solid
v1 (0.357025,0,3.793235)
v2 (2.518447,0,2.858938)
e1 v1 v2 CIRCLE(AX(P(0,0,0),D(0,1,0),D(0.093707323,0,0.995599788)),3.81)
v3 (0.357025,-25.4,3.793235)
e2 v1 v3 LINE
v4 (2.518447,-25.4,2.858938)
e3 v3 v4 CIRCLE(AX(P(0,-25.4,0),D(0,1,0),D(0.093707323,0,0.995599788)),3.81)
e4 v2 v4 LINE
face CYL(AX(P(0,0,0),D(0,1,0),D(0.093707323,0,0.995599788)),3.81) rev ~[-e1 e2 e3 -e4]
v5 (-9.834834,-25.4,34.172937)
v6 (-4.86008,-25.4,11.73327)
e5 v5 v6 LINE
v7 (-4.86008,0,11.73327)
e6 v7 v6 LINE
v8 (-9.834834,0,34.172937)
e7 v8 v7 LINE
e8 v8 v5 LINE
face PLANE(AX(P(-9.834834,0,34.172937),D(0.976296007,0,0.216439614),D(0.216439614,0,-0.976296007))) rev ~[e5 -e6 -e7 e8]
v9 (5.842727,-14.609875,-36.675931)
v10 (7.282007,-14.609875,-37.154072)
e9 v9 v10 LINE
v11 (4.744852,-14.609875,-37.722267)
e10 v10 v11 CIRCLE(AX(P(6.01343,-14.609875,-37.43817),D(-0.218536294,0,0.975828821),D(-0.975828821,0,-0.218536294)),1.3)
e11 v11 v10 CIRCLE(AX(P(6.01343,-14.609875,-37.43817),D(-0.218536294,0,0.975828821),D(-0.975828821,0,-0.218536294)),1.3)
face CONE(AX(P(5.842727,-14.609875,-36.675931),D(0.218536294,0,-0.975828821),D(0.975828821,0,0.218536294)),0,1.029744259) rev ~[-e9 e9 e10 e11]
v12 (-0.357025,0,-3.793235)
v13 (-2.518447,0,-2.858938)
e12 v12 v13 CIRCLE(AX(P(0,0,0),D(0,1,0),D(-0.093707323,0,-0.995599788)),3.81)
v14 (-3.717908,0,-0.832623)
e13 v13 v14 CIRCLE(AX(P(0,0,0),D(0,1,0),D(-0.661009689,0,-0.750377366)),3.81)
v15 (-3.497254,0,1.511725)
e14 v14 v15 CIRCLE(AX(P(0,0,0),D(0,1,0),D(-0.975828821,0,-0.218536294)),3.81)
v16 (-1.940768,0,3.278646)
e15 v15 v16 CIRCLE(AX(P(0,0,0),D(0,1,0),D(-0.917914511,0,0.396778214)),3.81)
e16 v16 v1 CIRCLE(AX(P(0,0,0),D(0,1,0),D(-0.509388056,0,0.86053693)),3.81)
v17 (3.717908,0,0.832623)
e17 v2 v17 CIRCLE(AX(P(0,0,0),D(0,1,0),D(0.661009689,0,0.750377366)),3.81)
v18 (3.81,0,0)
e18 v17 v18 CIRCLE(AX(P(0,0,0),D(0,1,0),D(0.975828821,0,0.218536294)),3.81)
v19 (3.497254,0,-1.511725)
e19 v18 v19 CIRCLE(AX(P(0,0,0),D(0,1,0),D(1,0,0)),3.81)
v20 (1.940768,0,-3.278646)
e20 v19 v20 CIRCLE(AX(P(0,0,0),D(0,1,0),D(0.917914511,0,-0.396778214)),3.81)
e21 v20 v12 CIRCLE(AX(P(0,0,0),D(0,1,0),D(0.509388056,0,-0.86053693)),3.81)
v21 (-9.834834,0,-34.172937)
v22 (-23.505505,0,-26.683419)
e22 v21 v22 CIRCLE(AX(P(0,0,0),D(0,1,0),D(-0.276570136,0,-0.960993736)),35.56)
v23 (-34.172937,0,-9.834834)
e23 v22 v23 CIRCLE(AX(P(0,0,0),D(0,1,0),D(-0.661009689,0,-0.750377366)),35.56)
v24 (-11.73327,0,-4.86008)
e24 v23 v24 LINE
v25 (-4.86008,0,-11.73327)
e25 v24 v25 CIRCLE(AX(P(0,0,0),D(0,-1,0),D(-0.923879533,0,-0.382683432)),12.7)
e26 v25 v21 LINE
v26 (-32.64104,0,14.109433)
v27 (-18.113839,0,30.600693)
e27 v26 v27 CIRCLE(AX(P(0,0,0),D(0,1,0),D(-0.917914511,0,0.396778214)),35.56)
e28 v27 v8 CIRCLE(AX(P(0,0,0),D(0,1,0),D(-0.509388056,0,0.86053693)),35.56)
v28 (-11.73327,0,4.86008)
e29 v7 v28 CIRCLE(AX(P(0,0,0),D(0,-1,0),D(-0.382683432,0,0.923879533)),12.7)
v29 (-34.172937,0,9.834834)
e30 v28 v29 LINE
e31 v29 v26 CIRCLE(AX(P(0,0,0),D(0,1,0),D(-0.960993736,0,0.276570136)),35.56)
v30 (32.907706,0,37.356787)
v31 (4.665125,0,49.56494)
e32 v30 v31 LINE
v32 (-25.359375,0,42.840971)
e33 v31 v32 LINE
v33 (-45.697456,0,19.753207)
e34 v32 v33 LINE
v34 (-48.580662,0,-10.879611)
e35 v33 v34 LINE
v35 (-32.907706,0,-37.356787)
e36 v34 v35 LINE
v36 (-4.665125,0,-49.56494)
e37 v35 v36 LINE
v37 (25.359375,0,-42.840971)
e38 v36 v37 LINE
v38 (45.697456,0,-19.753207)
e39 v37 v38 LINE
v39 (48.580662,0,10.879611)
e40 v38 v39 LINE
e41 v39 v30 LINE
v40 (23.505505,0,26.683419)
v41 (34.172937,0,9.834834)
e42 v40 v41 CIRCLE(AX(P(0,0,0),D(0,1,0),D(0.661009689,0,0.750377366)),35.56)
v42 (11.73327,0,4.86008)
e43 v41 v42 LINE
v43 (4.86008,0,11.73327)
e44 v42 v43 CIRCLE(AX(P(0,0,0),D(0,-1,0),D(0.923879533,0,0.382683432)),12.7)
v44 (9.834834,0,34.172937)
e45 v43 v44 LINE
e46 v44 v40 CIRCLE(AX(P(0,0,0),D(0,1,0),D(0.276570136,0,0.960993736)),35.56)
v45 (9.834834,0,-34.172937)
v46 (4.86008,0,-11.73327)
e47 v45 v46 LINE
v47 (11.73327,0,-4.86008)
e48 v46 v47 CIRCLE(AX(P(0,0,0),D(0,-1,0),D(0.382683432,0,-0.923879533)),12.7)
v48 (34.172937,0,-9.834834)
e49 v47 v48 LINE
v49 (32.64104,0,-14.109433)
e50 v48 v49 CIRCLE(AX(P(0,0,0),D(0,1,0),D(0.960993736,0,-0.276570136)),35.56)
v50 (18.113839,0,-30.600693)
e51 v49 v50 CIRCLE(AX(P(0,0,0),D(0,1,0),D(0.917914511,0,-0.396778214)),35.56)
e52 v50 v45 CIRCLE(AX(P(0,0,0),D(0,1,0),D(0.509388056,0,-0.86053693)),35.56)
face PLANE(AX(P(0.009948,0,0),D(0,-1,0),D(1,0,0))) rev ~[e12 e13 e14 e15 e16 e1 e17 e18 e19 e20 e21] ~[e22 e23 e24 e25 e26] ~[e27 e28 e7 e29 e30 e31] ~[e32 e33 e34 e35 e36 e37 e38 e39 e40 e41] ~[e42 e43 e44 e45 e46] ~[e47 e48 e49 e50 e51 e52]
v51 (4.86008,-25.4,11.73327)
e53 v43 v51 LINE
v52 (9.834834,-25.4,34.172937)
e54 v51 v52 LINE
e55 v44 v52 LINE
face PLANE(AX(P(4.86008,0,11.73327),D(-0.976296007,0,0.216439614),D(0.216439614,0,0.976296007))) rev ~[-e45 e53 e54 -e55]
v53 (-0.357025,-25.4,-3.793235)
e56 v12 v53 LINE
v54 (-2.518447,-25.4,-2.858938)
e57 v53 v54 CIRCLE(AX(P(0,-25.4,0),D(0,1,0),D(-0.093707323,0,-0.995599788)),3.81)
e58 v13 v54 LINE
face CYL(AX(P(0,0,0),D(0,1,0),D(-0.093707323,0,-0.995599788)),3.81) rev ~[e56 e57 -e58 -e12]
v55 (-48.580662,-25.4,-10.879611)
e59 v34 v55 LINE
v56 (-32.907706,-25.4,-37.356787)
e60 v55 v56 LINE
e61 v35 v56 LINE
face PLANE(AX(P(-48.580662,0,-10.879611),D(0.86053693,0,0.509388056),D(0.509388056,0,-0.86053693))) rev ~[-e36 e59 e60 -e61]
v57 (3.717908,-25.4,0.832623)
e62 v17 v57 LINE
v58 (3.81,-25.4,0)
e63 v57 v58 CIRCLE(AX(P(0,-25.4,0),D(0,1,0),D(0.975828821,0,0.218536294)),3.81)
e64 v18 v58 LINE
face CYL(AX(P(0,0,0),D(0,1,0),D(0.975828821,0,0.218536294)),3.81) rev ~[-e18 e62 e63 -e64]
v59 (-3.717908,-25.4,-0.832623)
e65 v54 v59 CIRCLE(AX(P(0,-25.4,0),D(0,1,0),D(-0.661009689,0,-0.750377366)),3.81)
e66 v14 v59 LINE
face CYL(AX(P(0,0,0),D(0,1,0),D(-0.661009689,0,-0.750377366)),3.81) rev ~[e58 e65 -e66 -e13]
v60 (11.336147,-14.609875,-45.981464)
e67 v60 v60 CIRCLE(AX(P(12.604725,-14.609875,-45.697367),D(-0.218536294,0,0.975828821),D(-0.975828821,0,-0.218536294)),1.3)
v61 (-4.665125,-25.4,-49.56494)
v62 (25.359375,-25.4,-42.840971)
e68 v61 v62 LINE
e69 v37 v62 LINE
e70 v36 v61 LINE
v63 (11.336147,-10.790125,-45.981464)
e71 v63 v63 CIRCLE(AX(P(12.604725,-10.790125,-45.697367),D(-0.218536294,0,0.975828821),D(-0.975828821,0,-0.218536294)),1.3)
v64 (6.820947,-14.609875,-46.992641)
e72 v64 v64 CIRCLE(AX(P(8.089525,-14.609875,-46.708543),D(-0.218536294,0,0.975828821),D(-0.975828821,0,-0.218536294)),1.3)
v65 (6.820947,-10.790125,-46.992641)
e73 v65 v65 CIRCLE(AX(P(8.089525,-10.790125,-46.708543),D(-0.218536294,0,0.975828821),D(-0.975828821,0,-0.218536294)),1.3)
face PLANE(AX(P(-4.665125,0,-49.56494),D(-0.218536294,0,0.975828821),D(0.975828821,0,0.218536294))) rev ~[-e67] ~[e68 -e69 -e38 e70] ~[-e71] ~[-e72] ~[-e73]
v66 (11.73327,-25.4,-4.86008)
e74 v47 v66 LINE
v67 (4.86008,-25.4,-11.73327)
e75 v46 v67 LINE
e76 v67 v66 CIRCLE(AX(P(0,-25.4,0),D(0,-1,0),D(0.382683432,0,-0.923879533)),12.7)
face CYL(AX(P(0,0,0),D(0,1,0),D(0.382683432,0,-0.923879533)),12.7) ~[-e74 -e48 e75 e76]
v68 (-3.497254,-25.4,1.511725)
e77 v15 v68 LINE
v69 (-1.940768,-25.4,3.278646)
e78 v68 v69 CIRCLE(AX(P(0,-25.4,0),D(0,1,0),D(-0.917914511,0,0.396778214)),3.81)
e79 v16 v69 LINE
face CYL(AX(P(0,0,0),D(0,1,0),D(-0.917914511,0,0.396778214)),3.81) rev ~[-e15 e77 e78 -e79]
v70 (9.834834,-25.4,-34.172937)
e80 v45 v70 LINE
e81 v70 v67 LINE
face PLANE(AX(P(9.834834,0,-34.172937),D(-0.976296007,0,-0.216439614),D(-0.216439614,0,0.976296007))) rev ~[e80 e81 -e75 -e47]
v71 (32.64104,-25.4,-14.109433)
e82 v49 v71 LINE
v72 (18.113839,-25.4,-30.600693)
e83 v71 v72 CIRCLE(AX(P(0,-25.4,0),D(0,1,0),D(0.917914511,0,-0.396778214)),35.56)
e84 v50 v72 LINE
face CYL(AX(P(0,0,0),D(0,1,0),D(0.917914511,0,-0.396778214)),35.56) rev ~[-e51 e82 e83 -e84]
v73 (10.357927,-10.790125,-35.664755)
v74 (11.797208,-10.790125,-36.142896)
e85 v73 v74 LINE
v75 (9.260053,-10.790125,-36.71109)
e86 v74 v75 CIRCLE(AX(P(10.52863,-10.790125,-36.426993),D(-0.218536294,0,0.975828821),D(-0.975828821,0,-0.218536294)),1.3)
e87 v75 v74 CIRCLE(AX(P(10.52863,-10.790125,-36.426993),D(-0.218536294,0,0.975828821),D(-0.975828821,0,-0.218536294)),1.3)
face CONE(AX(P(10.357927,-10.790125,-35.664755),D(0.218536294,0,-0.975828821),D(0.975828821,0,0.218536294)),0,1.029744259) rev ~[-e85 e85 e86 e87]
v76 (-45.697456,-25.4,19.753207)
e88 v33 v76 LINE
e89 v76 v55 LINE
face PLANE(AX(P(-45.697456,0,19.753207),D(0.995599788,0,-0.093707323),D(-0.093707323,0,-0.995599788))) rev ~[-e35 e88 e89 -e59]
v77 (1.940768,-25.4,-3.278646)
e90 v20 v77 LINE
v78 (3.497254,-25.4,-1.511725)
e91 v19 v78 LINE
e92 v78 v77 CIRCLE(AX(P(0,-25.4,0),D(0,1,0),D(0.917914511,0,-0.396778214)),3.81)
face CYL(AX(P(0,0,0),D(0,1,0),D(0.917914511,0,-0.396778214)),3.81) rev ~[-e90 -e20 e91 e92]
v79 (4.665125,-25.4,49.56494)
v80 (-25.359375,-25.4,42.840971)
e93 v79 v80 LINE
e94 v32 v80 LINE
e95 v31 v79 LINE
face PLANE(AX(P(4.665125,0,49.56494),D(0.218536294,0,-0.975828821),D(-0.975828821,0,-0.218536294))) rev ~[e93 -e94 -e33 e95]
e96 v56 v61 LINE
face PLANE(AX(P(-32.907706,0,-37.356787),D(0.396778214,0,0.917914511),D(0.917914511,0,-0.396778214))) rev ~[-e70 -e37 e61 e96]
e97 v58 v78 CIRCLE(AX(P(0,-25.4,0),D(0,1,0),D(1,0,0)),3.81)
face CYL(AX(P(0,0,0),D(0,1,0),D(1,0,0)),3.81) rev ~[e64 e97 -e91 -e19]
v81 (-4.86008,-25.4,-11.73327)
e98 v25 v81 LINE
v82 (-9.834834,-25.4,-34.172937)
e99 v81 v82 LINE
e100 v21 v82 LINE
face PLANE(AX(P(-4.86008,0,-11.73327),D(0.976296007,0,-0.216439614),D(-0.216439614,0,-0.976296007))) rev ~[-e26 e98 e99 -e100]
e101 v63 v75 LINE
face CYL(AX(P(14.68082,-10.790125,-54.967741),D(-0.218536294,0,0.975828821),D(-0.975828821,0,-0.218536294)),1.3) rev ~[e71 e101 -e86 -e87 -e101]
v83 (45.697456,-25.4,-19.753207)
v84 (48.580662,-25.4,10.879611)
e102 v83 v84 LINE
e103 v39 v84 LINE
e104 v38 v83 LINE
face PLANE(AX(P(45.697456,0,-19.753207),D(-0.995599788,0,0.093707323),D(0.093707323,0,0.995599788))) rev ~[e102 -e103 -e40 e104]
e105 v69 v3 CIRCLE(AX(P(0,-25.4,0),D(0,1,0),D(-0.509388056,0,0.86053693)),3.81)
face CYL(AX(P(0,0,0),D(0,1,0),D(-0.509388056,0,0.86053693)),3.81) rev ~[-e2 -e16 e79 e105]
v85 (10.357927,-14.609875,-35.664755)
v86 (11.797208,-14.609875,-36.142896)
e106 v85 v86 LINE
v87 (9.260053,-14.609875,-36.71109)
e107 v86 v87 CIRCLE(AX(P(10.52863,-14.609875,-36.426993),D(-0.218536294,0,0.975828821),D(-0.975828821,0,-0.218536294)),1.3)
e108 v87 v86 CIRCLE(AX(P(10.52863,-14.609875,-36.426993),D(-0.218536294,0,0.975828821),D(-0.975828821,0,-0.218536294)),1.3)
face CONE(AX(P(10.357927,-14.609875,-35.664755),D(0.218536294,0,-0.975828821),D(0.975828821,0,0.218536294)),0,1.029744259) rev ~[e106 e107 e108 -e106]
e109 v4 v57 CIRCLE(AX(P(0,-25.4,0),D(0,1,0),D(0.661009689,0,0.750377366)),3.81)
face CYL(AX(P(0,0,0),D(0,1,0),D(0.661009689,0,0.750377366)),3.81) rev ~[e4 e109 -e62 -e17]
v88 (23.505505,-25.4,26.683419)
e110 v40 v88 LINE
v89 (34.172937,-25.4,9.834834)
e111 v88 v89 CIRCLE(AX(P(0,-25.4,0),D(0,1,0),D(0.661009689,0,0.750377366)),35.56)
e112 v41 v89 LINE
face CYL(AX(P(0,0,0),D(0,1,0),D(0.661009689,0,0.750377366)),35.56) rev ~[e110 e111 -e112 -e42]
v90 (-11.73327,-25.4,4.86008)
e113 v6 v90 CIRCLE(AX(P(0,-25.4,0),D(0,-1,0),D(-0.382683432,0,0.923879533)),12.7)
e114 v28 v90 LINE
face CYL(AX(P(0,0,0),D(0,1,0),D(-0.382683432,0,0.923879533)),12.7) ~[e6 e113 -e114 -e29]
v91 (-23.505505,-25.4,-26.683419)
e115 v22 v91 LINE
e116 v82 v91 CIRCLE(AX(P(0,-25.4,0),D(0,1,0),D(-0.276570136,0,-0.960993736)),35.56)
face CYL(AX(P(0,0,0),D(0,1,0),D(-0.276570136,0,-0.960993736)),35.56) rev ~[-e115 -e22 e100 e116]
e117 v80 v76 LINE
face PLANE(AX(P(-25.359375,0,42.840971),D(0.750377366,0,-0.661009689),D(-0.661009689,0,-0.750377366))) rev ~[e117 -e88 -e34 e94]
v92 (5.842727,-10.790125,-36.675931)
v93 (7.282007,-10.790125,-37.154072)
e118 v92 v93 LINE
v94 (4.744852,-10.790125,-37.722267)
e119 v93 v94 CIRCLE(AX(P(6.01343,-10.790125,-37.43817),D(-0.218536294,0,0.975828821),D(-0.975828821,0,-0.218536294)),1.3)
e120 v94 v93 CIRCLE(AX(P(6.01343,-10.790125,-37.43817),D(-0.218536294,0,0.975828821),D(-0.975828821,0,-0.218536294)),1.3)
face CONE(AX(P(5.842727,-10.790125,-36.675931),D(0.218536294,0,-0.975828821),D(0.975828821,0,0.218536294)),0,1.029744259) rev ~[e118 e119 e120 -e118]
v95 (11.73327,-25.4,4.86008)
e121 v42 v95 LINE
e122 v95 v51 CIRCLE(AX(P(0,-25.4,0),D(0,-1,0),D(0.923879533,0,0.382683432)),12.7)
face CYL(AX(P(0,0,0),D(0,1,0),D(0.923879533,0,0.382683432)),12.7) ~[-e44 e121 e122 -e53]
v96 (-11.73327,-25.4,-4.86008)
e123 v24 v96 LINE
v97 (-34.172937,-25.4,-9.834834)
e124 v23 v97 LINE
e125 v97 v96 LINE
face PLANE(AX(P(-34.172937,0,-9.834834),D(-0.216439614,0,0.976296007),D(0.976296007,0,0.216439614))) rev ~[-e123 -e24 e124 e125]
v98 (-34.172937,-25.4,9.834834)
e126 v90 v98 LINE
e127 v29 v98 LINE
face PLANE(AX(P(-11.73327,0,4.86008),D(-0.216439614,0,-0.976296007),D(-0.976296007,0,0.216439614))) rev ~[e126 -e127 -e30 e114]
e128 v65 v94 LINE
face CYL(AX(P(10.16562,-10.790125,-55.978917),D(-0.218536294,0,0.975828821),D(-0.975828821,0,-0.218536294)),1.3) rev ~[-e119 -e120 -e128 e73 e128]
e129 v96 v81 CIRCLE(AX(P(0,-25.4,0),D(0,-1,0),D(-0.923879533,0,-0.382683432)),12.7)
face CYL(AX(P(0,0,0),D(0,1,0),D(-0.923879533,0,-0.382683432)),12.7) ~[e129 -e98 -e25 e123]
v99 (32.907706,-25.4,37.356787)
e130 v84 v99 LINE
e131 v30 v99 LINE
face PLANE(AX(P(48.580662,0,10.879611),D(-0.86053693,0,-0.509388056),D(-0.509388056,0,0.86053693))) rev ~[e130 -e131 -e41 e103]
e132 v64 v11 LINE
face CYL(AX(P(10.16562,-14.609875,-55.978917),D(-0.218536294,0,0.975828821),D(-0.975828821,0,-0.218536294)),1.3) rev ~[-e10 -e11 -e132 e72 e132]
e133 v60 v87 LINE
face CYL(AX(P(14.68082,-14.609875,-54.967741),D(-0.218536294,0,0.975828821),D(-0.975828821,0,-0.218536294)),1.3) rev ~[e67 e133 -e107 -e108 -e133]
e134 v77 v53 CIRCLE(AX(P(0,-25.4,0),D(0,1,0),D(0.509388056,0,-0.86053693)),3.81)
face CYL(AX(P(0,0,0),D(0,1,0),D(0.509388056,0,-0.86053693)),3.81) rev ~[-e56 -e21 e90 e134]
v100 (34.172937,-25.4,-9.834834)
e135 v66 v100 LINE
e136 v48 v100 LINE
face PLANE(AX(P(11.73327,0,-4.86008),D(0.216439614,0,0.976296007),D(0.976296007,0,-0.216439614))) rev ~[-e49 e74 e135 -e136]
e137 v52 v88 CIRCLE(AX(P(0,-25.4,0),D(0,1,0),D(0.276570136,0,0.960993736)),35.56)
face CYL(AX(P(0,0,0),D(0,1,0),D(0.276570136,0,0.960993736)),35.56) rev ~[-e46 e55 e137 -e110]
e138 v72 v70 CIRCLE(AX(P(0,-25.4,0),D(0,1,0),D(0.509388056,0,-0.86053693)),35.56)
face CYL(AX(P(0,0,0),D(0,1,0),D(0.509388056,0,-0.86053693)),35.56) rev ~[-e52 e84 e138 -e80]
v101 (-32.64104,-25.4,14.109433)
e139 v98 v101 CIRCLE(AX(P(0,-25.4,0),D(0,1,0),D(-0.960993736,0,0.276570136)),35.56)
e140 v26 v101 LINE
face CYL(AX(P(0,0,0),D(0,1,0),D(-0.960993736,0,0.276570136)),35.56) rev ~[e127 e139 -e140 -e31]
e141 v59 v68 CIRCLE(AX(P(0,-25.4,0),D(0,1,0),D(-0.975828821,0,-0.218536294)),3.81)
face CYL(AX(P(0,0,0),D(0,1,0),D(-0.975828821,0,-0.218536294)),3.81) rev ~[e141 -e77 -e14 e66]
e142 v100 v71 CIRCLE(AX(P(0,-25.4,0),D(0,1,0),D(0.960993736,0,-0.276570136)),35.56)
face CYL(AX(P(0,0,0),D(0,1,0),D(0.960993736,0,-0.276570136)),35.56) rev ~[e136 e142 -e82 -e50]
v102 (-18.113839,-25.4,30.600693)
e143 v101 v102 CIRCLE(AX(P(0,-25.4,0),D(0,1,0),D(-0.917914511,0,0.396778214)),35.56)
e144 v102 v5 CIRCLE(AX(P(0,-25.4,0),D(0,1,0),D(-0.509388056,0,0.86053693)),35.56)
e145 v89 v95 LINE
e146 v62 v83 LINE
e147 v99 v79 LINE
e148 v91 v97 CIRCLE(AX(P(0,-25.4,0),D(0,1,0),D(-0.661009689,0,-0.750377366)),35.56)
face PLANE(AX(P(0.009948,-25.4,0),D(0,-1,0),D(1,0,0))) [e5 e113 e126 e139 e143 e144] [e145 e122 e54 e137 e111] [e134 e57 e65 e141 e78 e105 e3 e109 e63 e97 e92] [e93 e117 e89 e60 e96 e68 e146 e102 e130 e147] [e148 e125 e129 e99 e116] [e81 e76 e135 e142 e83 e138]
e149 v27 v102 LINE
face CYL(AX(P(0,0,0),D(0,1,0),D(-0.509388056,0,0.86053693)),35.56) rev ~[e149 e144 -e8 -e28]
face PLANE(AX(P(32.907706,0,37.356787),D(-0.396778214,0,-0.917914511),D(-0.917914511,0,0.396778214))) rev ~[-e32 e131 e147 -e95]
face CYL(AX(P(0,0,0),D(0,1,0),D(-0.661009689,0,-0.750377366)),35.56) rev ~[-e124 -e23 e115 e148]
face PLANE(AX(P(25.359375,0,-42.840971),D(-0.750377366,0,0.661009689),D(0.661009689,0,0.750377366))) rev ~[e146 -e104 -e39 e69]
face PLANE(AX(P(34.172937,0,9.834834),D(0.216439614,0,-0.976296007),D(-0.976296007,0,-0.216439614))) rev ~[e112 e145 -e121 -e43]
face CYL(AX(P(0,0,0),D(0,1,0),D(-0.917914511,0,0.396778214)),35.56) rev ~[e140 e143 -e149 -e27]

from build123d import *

# Parameters (mm, degrees)
F1_DEPTH = 25.4
F3_D     = 2.6
F3_DEPTH = 9.5
F3_TIP   = 0.7811188047


with BuildPart() as f1:
    # F0 (on Front) → F1 (new body)
    with BuildSketch(Plane.XZ):
        with BuildLine():
            ThreePointArc((4.860079591, -11.7332700629), (8.9802561211, -8.9802561211), (11.7332700629, -4.860079591))
            ThreePointArc((11.7332700629, -4.860079591), (12.4559730611, -2.4776470896), (12.7, 0))
            ThreePointArc((12.7, 0), (12.4559730611, 2.4776470896), (11.7332700629, 4.860079591))
            ThreePointArc((11.7332700629, 4.860079591), (8.9802561211, 8.9802561211), (4.860079591, 11.7332700629))
            ThreePointArc((4.860079591, 11.7332700629), (0, 12.7), (-4.860079591, 11.7332700629))
            ThreePointArc((-4.860079591, 11.7332700629), (-8.9802561211, 8.9802561211), (-11.7332700629, 4.860079591))
            ThreePointArc((-11.7332700629, 4.860079591), (-12.7, 0), (-11.7332700629, -4.860079591))
            ThreePointArc((-11.7332700629, -4.860079591), (-8.9802561211, -8.9802561211), (-4.860079591, -11.7332700629))
            ThreePointArc((-4.860079591, -11.7332700629), (0, -12.7), (4.860079591, -11.7332700629))
        make_face()
        with BuildLine():
            ThreePointArc((3.7179078086, 0.83262328), (3.7869069668, 0.4188503605), (3.81, 0))
            ThreePointArc((3.81, 0), (3.7309944269, -0.7718682441), (3.4972542854, -1.5117249959))
            ThreePointArc((3.4972542854, -1.5117249959), (2.8589377627, -2.518446916), (1.9407684924, -3.278645705))
            ThreePointArc((1.9407684924, -3.278645705), (0.83262328, -3.7179078086), (-0.3570249003, -3.7932351918))
            ThreePointArc((-0.3570249003, -3.7932351918), (-1.5117249959, -3.4972542854), (-2.518446916, -2.8589377627))
            ThreePointArc((-2.518446916, -2.8589377627), (-3.278645705, -1.9407684924), (-3.7179078086, -0.83262328))
            ThreePointArc((-3.7179078086, -0.83262328), (-3.7932351918, 0.3570249003), (-3.4972542854, 1.5117249959))
            ThreePointArc((-3.4972542854, 1.5117249959), (-2.8589377627, 2.518446916), (-1.9407684924, 3.278645705))
            ThreePointArc((-1.9407684924, 3.278645705), (-0.83262328, 3.7179078086), (0.3570249003, 3.7932351918))
            ThreePointArc((0.3570249003, 3.7932351918), (1.5117249959, 3.4972542854), (2.518446916, 2.8589377627))
            ThreePointArc((2.518446916, 2.8589377627), (3.278645705, 1.9407684924), (3.7179078086, 0.83262328))
        make_face(mode=Mode.SUBTRACT)
        with BuildLine():
            Line((4.860079591, 11.7332700629), (9.8348340353, 34.1729372384))
            ThreePointArc((9.8348340353, 34.1729372384), (6.6122234033, 34.9398354556), (3.3322324031, 35.4035284571))
            ThreePointArc((3.3322324031, 35.4035284571), (-3.3090097739, 35.4057065219), (-9.8348340353, 34.1729372384))
            Line((-9.8348340353, 34.1729372384), (-4.860079591, 11.7332700629))
            ThreePointArc((-4.860079591, 11.7332700629), (0, 12.7), (4.860079591, 11.7332700629))
        make_face()
        with BuildLine():
            ThreePointArc((34.1729372384, -9.8348340353), (35.2115268641, -4.9660825508), (35.56, 0))
            ThreePointArc((35.56, 0), (35.3444650238, 3.9092700317), (34.7004728807, 7.7711506133))
            ThreePointArc((34.7004728807, 7.7711506133), (34.4521603484, 8.8069431317), (34.1729372384, 9.8348340353))
            Line((34.1729372384, 9.8348340353), (11.7332700629, 4.860079591))
            ThreePointArc((11.7332700629, 4.860079591), (12.4559730611, 2.4776470896), (12.7, 0))
            ThreePointArc((12.7, 0), (12.4559730611, -2.4776470896), (11.7332700629, -4.860079591))
            Line((11.7332700629, -4.860079591), (34.1729372384, -9.8348340353))
        make_face()
        with BuildLine():
            Line((9.8348340353, -34.1729372384), (4.860079591, -11.7332700629))
            ThreePointArc((4.860079591, -11.7332700629), (0, -12.7), (-4.860079591, -11.7332700629))
            Line((-4.860079591, -11.7332700629), (-9.8348340353, -34.1729372384))
            ThreePointArc((-9.8348340353, -34.1729372384), (-6.6122234033, -34.9398354556), (-3.3322324031, -35.4035284571))
            ThreePointArc((-3.3322324031, -35.4035284571), (3.3090097739, -35.4057065219), (9.8348340353, -34.1729372384))
        make_face()
        with BuildLine():
            Line((-34.1729372384, -9.8348340353), (-11.7332700629, -4.860079591))
            ThreePointArc((-11.7332700629, -4.860079591), (-12.7, 0), (-11.7332700629, 4.860079591))
            Line((-11.7332700629, 4.860079591), (-34.1729372384, 9.8348340353))
            ThreePointArc((-34.1729372384, 9.8348340353), (-35.5440477326, 1.0650214928), (-34.7004728807, -7.7711506133))
            ThreePointArc((-34.7004728807, -7.7711506133), (-34.4521603484, -8.8069431317), (-34.1729372384, -9.8348340353))
        make_face()
        with BuildLine():
            Line((-32.6410399972, 14.1094332949), (-45.697455996, 19.7532066129))
            Line((-45.697455996, 19.7532066129), (-48.580662033, -10.8796108586))
            Line((-48.580662033, -10.8796108586), (-34.7004728807, -7.7711506133))
            ThreePointArc((-34.7004728807, -7.7711506133), (-35.5440477326, 1.0650214928), (-34.1729372384, 9.8348340353))
            ThreePointArc((-34.1729372384, 9.8348340353), (-33.475288471, 11.996610429), (-32.6410399972, 14.1094332949))
        make_face()
        with BuildLine():
            Line((-18.1138392628, 30.6006932464), (-25.359374968, 42.840970545))
            Line((-25.359374968, 42.840970545), (-45.697455996, 19.7532066129))
            Line((-45.697455996, 19.7532066129), (-32.6410399972, 14.1094332949))
            ThreePointArc((-32.6410399972, 14.1094332949), (-26.6834191188, 23.5055045495), (-18.1138392628, 30.6006932464))
        make_face()
        with BuildLine():
            Line((3.3322324031, 35.4035284571), (4.6651253644, 49.5649398399))
            Line((4.6651253644, 49.5649398399), (-25.359374968, 42.840970545))
            Line((-25.359374968, 42.840970545), (-18.1138392628, 30.6006932464))
            ThreePointArc((-18.1138392628, 30.6006932464), (-14.0880203211, 32.650287647), (-9.8348340353, 34.1729372384))
            ThreePointArc((-9.8348340353, 34.1729372384), (-3.3090097739, 35.4057065219), (3.3322324031, 35.4035284571))
        make_face()
        with BuildLine():
            ThreePointArc((9.8348340353, 34.1729372384), (17.0856010914, 31.1864687861), (23.5055045495, 26.6834191188))
            Line((23.5055045495, 26.6834191188), (32.9077063694, 37.3567867664))
            Line((32.9077063694, 37.3567867664), (4.6651253644, 49.5649398399))
            Line((4.6651253644, 49.5649398399), (3.3322324031, 35.4035284571))
            ThreePointArc((3.3322324031, 35.4035284571), (6.6122234033, 34.9398354556), (9.8348340353, 34.1729372384))
        make_face()
        with BuildLine():
            ThreePointArc((34.1729372384, 9.8348340353), (34.4521603484, 8.8069431317), (34.7004728807, 7.7711506133))
            Line((34.7004728807, 7.7711506133), (48.580662033, 10.8796108586))
            Line((48.580662033, 10.8796108586), (32.9077063694, 37.3567867664))
            Line((32.9077063694, 37.3567867664), (23.5055045495, 26.6834191188))
            ThreePointArc((23.5055045495, 26.6834191188), (30.0444565036, 19.0222036946), (34.1729372384, 9.8348340353))
        make_face()
        with BuildLine():
            ThreePointArc((34.7004728807, 7.7711506133), (35.3444650238, 3.9092700317), (35.56, 0))
            ThreePointArc((35.56, 0), (35.2115268641, -4.9660825508), (34.1729372384, -9.8348340353))
            ThreePointArc((34.1729372384, -9.8348340353), (33.475288471, -11.996610429), (32.6410399972, -14.1094332949))
            Line((32.6410399972, -14.1094332949), (45.697455996, -19.7532066129))
            Line((45.697455996, -19.7532066129), (48.580662033, 10.8796108586))
            Line((48.580662033, 10.8796108586), (34.7004728807, 7.7711506133))
        make_face()
        with BuildLine():
            Line((45.697455996, -19.7532066129), (32.6410399972, -14.1094332949))
            ThreePointArc((32.6410399972, -14.1094332949), (26.6834191188, -23.5055045495), (18.1138392628, -30.6006932464))
            Line((18.1138392628, -30.6006932464), (25.359374968, -42.840970545))
            Line((25.359374968, -42.840970545), (45.697455996, -19.7532066129))
        make_face()
        with BuildLine():
            Line((25.359374968, -42.840970545), (18.1138392628, -30.6006932464))
            ThreePointArc((18.1138392628, -30.6006932464), (14.0880203211, -32.650287647), (9.8348340353, -34.1729372384))
            ThreePointArc((9.8348340353, -34.1729372384), (3.3090097739, -35.4057065219), (-3.3322324031, -35.4035284571))
            Line((-3.3322324031, -35.4035284571), (-4.6651253644, -49.5649398399))
            Line((-4.6651253644, -49.5649398399), (25.359374968, -42.840970545))
        make_face()
        with BuildLine():
            Line((-32.9077063694, -37.3567867664), (-4.6651253644, -49.5649398399))
            Line((-4.6651253644, -49.5649398399), (-3.3322324031, -35.4035284571))
            ThreePointArc((-3.3322324031, -35.4035284571), (-6.6122234033, -34.9398354556), (-9.8348340353, -34.1729372384))
            ThreePointArc((-9.8348340353, -34.1729372384), (-17.0856010914, -31.1864687861), (-23.5055045495, -26.6834191188))
            Line((-23.5055045495, -26.6834191188), (-32.9077063694, -37.3567867664))
        make_face()
        with BuildLine():
            Line((-48.580662033, -10.8796108586), (-32.9077063694, -37.3567867664))
            Line((-32.9077063694, -37.3567867664), (-23.5055045495, -26.6834191188))
            ThreePointArc((-23.5055045495, -26.6834191188), (-30.0444565036, -19.0222036946), (-34.1729372384, -9.8348340353))
            ThreePointArc((-34.1729372384, -9.8348340353), (-34.4521603484, -8.8069431317), (-34.7004728807, -7.7711506133))
            Line((-34.7004728807, -7.7711506133), (-48.580662033, -10.8796108586))
        make_face()
    extrude(amount=F1_DEPTH)

    # F3
    with Locations(Plane(origin=(10.3471248018, 0, -46.2029551924), x_dir=(0.9758288212, 0, 0.218536294), z_dir=(0.218536294, 0, -0.9758288212))):
        with Locations((-2.3135205983, 14.6098749805), (2.3135205983, 14.6098749805), (2.3135205983, 10.7901250195), (-2.3135205983, 10.7901250195)):
            Hole(F3_D / 2, depth=F3_DEPTH)
            with Locations((0, 0, -(F3_DEPTH + F3_TIP / 2))):  # 118° drill point
                Cone(0, F3_D / 2, F3_TIP, mode=Mode.SUBTRACT)


solid = f1.part
